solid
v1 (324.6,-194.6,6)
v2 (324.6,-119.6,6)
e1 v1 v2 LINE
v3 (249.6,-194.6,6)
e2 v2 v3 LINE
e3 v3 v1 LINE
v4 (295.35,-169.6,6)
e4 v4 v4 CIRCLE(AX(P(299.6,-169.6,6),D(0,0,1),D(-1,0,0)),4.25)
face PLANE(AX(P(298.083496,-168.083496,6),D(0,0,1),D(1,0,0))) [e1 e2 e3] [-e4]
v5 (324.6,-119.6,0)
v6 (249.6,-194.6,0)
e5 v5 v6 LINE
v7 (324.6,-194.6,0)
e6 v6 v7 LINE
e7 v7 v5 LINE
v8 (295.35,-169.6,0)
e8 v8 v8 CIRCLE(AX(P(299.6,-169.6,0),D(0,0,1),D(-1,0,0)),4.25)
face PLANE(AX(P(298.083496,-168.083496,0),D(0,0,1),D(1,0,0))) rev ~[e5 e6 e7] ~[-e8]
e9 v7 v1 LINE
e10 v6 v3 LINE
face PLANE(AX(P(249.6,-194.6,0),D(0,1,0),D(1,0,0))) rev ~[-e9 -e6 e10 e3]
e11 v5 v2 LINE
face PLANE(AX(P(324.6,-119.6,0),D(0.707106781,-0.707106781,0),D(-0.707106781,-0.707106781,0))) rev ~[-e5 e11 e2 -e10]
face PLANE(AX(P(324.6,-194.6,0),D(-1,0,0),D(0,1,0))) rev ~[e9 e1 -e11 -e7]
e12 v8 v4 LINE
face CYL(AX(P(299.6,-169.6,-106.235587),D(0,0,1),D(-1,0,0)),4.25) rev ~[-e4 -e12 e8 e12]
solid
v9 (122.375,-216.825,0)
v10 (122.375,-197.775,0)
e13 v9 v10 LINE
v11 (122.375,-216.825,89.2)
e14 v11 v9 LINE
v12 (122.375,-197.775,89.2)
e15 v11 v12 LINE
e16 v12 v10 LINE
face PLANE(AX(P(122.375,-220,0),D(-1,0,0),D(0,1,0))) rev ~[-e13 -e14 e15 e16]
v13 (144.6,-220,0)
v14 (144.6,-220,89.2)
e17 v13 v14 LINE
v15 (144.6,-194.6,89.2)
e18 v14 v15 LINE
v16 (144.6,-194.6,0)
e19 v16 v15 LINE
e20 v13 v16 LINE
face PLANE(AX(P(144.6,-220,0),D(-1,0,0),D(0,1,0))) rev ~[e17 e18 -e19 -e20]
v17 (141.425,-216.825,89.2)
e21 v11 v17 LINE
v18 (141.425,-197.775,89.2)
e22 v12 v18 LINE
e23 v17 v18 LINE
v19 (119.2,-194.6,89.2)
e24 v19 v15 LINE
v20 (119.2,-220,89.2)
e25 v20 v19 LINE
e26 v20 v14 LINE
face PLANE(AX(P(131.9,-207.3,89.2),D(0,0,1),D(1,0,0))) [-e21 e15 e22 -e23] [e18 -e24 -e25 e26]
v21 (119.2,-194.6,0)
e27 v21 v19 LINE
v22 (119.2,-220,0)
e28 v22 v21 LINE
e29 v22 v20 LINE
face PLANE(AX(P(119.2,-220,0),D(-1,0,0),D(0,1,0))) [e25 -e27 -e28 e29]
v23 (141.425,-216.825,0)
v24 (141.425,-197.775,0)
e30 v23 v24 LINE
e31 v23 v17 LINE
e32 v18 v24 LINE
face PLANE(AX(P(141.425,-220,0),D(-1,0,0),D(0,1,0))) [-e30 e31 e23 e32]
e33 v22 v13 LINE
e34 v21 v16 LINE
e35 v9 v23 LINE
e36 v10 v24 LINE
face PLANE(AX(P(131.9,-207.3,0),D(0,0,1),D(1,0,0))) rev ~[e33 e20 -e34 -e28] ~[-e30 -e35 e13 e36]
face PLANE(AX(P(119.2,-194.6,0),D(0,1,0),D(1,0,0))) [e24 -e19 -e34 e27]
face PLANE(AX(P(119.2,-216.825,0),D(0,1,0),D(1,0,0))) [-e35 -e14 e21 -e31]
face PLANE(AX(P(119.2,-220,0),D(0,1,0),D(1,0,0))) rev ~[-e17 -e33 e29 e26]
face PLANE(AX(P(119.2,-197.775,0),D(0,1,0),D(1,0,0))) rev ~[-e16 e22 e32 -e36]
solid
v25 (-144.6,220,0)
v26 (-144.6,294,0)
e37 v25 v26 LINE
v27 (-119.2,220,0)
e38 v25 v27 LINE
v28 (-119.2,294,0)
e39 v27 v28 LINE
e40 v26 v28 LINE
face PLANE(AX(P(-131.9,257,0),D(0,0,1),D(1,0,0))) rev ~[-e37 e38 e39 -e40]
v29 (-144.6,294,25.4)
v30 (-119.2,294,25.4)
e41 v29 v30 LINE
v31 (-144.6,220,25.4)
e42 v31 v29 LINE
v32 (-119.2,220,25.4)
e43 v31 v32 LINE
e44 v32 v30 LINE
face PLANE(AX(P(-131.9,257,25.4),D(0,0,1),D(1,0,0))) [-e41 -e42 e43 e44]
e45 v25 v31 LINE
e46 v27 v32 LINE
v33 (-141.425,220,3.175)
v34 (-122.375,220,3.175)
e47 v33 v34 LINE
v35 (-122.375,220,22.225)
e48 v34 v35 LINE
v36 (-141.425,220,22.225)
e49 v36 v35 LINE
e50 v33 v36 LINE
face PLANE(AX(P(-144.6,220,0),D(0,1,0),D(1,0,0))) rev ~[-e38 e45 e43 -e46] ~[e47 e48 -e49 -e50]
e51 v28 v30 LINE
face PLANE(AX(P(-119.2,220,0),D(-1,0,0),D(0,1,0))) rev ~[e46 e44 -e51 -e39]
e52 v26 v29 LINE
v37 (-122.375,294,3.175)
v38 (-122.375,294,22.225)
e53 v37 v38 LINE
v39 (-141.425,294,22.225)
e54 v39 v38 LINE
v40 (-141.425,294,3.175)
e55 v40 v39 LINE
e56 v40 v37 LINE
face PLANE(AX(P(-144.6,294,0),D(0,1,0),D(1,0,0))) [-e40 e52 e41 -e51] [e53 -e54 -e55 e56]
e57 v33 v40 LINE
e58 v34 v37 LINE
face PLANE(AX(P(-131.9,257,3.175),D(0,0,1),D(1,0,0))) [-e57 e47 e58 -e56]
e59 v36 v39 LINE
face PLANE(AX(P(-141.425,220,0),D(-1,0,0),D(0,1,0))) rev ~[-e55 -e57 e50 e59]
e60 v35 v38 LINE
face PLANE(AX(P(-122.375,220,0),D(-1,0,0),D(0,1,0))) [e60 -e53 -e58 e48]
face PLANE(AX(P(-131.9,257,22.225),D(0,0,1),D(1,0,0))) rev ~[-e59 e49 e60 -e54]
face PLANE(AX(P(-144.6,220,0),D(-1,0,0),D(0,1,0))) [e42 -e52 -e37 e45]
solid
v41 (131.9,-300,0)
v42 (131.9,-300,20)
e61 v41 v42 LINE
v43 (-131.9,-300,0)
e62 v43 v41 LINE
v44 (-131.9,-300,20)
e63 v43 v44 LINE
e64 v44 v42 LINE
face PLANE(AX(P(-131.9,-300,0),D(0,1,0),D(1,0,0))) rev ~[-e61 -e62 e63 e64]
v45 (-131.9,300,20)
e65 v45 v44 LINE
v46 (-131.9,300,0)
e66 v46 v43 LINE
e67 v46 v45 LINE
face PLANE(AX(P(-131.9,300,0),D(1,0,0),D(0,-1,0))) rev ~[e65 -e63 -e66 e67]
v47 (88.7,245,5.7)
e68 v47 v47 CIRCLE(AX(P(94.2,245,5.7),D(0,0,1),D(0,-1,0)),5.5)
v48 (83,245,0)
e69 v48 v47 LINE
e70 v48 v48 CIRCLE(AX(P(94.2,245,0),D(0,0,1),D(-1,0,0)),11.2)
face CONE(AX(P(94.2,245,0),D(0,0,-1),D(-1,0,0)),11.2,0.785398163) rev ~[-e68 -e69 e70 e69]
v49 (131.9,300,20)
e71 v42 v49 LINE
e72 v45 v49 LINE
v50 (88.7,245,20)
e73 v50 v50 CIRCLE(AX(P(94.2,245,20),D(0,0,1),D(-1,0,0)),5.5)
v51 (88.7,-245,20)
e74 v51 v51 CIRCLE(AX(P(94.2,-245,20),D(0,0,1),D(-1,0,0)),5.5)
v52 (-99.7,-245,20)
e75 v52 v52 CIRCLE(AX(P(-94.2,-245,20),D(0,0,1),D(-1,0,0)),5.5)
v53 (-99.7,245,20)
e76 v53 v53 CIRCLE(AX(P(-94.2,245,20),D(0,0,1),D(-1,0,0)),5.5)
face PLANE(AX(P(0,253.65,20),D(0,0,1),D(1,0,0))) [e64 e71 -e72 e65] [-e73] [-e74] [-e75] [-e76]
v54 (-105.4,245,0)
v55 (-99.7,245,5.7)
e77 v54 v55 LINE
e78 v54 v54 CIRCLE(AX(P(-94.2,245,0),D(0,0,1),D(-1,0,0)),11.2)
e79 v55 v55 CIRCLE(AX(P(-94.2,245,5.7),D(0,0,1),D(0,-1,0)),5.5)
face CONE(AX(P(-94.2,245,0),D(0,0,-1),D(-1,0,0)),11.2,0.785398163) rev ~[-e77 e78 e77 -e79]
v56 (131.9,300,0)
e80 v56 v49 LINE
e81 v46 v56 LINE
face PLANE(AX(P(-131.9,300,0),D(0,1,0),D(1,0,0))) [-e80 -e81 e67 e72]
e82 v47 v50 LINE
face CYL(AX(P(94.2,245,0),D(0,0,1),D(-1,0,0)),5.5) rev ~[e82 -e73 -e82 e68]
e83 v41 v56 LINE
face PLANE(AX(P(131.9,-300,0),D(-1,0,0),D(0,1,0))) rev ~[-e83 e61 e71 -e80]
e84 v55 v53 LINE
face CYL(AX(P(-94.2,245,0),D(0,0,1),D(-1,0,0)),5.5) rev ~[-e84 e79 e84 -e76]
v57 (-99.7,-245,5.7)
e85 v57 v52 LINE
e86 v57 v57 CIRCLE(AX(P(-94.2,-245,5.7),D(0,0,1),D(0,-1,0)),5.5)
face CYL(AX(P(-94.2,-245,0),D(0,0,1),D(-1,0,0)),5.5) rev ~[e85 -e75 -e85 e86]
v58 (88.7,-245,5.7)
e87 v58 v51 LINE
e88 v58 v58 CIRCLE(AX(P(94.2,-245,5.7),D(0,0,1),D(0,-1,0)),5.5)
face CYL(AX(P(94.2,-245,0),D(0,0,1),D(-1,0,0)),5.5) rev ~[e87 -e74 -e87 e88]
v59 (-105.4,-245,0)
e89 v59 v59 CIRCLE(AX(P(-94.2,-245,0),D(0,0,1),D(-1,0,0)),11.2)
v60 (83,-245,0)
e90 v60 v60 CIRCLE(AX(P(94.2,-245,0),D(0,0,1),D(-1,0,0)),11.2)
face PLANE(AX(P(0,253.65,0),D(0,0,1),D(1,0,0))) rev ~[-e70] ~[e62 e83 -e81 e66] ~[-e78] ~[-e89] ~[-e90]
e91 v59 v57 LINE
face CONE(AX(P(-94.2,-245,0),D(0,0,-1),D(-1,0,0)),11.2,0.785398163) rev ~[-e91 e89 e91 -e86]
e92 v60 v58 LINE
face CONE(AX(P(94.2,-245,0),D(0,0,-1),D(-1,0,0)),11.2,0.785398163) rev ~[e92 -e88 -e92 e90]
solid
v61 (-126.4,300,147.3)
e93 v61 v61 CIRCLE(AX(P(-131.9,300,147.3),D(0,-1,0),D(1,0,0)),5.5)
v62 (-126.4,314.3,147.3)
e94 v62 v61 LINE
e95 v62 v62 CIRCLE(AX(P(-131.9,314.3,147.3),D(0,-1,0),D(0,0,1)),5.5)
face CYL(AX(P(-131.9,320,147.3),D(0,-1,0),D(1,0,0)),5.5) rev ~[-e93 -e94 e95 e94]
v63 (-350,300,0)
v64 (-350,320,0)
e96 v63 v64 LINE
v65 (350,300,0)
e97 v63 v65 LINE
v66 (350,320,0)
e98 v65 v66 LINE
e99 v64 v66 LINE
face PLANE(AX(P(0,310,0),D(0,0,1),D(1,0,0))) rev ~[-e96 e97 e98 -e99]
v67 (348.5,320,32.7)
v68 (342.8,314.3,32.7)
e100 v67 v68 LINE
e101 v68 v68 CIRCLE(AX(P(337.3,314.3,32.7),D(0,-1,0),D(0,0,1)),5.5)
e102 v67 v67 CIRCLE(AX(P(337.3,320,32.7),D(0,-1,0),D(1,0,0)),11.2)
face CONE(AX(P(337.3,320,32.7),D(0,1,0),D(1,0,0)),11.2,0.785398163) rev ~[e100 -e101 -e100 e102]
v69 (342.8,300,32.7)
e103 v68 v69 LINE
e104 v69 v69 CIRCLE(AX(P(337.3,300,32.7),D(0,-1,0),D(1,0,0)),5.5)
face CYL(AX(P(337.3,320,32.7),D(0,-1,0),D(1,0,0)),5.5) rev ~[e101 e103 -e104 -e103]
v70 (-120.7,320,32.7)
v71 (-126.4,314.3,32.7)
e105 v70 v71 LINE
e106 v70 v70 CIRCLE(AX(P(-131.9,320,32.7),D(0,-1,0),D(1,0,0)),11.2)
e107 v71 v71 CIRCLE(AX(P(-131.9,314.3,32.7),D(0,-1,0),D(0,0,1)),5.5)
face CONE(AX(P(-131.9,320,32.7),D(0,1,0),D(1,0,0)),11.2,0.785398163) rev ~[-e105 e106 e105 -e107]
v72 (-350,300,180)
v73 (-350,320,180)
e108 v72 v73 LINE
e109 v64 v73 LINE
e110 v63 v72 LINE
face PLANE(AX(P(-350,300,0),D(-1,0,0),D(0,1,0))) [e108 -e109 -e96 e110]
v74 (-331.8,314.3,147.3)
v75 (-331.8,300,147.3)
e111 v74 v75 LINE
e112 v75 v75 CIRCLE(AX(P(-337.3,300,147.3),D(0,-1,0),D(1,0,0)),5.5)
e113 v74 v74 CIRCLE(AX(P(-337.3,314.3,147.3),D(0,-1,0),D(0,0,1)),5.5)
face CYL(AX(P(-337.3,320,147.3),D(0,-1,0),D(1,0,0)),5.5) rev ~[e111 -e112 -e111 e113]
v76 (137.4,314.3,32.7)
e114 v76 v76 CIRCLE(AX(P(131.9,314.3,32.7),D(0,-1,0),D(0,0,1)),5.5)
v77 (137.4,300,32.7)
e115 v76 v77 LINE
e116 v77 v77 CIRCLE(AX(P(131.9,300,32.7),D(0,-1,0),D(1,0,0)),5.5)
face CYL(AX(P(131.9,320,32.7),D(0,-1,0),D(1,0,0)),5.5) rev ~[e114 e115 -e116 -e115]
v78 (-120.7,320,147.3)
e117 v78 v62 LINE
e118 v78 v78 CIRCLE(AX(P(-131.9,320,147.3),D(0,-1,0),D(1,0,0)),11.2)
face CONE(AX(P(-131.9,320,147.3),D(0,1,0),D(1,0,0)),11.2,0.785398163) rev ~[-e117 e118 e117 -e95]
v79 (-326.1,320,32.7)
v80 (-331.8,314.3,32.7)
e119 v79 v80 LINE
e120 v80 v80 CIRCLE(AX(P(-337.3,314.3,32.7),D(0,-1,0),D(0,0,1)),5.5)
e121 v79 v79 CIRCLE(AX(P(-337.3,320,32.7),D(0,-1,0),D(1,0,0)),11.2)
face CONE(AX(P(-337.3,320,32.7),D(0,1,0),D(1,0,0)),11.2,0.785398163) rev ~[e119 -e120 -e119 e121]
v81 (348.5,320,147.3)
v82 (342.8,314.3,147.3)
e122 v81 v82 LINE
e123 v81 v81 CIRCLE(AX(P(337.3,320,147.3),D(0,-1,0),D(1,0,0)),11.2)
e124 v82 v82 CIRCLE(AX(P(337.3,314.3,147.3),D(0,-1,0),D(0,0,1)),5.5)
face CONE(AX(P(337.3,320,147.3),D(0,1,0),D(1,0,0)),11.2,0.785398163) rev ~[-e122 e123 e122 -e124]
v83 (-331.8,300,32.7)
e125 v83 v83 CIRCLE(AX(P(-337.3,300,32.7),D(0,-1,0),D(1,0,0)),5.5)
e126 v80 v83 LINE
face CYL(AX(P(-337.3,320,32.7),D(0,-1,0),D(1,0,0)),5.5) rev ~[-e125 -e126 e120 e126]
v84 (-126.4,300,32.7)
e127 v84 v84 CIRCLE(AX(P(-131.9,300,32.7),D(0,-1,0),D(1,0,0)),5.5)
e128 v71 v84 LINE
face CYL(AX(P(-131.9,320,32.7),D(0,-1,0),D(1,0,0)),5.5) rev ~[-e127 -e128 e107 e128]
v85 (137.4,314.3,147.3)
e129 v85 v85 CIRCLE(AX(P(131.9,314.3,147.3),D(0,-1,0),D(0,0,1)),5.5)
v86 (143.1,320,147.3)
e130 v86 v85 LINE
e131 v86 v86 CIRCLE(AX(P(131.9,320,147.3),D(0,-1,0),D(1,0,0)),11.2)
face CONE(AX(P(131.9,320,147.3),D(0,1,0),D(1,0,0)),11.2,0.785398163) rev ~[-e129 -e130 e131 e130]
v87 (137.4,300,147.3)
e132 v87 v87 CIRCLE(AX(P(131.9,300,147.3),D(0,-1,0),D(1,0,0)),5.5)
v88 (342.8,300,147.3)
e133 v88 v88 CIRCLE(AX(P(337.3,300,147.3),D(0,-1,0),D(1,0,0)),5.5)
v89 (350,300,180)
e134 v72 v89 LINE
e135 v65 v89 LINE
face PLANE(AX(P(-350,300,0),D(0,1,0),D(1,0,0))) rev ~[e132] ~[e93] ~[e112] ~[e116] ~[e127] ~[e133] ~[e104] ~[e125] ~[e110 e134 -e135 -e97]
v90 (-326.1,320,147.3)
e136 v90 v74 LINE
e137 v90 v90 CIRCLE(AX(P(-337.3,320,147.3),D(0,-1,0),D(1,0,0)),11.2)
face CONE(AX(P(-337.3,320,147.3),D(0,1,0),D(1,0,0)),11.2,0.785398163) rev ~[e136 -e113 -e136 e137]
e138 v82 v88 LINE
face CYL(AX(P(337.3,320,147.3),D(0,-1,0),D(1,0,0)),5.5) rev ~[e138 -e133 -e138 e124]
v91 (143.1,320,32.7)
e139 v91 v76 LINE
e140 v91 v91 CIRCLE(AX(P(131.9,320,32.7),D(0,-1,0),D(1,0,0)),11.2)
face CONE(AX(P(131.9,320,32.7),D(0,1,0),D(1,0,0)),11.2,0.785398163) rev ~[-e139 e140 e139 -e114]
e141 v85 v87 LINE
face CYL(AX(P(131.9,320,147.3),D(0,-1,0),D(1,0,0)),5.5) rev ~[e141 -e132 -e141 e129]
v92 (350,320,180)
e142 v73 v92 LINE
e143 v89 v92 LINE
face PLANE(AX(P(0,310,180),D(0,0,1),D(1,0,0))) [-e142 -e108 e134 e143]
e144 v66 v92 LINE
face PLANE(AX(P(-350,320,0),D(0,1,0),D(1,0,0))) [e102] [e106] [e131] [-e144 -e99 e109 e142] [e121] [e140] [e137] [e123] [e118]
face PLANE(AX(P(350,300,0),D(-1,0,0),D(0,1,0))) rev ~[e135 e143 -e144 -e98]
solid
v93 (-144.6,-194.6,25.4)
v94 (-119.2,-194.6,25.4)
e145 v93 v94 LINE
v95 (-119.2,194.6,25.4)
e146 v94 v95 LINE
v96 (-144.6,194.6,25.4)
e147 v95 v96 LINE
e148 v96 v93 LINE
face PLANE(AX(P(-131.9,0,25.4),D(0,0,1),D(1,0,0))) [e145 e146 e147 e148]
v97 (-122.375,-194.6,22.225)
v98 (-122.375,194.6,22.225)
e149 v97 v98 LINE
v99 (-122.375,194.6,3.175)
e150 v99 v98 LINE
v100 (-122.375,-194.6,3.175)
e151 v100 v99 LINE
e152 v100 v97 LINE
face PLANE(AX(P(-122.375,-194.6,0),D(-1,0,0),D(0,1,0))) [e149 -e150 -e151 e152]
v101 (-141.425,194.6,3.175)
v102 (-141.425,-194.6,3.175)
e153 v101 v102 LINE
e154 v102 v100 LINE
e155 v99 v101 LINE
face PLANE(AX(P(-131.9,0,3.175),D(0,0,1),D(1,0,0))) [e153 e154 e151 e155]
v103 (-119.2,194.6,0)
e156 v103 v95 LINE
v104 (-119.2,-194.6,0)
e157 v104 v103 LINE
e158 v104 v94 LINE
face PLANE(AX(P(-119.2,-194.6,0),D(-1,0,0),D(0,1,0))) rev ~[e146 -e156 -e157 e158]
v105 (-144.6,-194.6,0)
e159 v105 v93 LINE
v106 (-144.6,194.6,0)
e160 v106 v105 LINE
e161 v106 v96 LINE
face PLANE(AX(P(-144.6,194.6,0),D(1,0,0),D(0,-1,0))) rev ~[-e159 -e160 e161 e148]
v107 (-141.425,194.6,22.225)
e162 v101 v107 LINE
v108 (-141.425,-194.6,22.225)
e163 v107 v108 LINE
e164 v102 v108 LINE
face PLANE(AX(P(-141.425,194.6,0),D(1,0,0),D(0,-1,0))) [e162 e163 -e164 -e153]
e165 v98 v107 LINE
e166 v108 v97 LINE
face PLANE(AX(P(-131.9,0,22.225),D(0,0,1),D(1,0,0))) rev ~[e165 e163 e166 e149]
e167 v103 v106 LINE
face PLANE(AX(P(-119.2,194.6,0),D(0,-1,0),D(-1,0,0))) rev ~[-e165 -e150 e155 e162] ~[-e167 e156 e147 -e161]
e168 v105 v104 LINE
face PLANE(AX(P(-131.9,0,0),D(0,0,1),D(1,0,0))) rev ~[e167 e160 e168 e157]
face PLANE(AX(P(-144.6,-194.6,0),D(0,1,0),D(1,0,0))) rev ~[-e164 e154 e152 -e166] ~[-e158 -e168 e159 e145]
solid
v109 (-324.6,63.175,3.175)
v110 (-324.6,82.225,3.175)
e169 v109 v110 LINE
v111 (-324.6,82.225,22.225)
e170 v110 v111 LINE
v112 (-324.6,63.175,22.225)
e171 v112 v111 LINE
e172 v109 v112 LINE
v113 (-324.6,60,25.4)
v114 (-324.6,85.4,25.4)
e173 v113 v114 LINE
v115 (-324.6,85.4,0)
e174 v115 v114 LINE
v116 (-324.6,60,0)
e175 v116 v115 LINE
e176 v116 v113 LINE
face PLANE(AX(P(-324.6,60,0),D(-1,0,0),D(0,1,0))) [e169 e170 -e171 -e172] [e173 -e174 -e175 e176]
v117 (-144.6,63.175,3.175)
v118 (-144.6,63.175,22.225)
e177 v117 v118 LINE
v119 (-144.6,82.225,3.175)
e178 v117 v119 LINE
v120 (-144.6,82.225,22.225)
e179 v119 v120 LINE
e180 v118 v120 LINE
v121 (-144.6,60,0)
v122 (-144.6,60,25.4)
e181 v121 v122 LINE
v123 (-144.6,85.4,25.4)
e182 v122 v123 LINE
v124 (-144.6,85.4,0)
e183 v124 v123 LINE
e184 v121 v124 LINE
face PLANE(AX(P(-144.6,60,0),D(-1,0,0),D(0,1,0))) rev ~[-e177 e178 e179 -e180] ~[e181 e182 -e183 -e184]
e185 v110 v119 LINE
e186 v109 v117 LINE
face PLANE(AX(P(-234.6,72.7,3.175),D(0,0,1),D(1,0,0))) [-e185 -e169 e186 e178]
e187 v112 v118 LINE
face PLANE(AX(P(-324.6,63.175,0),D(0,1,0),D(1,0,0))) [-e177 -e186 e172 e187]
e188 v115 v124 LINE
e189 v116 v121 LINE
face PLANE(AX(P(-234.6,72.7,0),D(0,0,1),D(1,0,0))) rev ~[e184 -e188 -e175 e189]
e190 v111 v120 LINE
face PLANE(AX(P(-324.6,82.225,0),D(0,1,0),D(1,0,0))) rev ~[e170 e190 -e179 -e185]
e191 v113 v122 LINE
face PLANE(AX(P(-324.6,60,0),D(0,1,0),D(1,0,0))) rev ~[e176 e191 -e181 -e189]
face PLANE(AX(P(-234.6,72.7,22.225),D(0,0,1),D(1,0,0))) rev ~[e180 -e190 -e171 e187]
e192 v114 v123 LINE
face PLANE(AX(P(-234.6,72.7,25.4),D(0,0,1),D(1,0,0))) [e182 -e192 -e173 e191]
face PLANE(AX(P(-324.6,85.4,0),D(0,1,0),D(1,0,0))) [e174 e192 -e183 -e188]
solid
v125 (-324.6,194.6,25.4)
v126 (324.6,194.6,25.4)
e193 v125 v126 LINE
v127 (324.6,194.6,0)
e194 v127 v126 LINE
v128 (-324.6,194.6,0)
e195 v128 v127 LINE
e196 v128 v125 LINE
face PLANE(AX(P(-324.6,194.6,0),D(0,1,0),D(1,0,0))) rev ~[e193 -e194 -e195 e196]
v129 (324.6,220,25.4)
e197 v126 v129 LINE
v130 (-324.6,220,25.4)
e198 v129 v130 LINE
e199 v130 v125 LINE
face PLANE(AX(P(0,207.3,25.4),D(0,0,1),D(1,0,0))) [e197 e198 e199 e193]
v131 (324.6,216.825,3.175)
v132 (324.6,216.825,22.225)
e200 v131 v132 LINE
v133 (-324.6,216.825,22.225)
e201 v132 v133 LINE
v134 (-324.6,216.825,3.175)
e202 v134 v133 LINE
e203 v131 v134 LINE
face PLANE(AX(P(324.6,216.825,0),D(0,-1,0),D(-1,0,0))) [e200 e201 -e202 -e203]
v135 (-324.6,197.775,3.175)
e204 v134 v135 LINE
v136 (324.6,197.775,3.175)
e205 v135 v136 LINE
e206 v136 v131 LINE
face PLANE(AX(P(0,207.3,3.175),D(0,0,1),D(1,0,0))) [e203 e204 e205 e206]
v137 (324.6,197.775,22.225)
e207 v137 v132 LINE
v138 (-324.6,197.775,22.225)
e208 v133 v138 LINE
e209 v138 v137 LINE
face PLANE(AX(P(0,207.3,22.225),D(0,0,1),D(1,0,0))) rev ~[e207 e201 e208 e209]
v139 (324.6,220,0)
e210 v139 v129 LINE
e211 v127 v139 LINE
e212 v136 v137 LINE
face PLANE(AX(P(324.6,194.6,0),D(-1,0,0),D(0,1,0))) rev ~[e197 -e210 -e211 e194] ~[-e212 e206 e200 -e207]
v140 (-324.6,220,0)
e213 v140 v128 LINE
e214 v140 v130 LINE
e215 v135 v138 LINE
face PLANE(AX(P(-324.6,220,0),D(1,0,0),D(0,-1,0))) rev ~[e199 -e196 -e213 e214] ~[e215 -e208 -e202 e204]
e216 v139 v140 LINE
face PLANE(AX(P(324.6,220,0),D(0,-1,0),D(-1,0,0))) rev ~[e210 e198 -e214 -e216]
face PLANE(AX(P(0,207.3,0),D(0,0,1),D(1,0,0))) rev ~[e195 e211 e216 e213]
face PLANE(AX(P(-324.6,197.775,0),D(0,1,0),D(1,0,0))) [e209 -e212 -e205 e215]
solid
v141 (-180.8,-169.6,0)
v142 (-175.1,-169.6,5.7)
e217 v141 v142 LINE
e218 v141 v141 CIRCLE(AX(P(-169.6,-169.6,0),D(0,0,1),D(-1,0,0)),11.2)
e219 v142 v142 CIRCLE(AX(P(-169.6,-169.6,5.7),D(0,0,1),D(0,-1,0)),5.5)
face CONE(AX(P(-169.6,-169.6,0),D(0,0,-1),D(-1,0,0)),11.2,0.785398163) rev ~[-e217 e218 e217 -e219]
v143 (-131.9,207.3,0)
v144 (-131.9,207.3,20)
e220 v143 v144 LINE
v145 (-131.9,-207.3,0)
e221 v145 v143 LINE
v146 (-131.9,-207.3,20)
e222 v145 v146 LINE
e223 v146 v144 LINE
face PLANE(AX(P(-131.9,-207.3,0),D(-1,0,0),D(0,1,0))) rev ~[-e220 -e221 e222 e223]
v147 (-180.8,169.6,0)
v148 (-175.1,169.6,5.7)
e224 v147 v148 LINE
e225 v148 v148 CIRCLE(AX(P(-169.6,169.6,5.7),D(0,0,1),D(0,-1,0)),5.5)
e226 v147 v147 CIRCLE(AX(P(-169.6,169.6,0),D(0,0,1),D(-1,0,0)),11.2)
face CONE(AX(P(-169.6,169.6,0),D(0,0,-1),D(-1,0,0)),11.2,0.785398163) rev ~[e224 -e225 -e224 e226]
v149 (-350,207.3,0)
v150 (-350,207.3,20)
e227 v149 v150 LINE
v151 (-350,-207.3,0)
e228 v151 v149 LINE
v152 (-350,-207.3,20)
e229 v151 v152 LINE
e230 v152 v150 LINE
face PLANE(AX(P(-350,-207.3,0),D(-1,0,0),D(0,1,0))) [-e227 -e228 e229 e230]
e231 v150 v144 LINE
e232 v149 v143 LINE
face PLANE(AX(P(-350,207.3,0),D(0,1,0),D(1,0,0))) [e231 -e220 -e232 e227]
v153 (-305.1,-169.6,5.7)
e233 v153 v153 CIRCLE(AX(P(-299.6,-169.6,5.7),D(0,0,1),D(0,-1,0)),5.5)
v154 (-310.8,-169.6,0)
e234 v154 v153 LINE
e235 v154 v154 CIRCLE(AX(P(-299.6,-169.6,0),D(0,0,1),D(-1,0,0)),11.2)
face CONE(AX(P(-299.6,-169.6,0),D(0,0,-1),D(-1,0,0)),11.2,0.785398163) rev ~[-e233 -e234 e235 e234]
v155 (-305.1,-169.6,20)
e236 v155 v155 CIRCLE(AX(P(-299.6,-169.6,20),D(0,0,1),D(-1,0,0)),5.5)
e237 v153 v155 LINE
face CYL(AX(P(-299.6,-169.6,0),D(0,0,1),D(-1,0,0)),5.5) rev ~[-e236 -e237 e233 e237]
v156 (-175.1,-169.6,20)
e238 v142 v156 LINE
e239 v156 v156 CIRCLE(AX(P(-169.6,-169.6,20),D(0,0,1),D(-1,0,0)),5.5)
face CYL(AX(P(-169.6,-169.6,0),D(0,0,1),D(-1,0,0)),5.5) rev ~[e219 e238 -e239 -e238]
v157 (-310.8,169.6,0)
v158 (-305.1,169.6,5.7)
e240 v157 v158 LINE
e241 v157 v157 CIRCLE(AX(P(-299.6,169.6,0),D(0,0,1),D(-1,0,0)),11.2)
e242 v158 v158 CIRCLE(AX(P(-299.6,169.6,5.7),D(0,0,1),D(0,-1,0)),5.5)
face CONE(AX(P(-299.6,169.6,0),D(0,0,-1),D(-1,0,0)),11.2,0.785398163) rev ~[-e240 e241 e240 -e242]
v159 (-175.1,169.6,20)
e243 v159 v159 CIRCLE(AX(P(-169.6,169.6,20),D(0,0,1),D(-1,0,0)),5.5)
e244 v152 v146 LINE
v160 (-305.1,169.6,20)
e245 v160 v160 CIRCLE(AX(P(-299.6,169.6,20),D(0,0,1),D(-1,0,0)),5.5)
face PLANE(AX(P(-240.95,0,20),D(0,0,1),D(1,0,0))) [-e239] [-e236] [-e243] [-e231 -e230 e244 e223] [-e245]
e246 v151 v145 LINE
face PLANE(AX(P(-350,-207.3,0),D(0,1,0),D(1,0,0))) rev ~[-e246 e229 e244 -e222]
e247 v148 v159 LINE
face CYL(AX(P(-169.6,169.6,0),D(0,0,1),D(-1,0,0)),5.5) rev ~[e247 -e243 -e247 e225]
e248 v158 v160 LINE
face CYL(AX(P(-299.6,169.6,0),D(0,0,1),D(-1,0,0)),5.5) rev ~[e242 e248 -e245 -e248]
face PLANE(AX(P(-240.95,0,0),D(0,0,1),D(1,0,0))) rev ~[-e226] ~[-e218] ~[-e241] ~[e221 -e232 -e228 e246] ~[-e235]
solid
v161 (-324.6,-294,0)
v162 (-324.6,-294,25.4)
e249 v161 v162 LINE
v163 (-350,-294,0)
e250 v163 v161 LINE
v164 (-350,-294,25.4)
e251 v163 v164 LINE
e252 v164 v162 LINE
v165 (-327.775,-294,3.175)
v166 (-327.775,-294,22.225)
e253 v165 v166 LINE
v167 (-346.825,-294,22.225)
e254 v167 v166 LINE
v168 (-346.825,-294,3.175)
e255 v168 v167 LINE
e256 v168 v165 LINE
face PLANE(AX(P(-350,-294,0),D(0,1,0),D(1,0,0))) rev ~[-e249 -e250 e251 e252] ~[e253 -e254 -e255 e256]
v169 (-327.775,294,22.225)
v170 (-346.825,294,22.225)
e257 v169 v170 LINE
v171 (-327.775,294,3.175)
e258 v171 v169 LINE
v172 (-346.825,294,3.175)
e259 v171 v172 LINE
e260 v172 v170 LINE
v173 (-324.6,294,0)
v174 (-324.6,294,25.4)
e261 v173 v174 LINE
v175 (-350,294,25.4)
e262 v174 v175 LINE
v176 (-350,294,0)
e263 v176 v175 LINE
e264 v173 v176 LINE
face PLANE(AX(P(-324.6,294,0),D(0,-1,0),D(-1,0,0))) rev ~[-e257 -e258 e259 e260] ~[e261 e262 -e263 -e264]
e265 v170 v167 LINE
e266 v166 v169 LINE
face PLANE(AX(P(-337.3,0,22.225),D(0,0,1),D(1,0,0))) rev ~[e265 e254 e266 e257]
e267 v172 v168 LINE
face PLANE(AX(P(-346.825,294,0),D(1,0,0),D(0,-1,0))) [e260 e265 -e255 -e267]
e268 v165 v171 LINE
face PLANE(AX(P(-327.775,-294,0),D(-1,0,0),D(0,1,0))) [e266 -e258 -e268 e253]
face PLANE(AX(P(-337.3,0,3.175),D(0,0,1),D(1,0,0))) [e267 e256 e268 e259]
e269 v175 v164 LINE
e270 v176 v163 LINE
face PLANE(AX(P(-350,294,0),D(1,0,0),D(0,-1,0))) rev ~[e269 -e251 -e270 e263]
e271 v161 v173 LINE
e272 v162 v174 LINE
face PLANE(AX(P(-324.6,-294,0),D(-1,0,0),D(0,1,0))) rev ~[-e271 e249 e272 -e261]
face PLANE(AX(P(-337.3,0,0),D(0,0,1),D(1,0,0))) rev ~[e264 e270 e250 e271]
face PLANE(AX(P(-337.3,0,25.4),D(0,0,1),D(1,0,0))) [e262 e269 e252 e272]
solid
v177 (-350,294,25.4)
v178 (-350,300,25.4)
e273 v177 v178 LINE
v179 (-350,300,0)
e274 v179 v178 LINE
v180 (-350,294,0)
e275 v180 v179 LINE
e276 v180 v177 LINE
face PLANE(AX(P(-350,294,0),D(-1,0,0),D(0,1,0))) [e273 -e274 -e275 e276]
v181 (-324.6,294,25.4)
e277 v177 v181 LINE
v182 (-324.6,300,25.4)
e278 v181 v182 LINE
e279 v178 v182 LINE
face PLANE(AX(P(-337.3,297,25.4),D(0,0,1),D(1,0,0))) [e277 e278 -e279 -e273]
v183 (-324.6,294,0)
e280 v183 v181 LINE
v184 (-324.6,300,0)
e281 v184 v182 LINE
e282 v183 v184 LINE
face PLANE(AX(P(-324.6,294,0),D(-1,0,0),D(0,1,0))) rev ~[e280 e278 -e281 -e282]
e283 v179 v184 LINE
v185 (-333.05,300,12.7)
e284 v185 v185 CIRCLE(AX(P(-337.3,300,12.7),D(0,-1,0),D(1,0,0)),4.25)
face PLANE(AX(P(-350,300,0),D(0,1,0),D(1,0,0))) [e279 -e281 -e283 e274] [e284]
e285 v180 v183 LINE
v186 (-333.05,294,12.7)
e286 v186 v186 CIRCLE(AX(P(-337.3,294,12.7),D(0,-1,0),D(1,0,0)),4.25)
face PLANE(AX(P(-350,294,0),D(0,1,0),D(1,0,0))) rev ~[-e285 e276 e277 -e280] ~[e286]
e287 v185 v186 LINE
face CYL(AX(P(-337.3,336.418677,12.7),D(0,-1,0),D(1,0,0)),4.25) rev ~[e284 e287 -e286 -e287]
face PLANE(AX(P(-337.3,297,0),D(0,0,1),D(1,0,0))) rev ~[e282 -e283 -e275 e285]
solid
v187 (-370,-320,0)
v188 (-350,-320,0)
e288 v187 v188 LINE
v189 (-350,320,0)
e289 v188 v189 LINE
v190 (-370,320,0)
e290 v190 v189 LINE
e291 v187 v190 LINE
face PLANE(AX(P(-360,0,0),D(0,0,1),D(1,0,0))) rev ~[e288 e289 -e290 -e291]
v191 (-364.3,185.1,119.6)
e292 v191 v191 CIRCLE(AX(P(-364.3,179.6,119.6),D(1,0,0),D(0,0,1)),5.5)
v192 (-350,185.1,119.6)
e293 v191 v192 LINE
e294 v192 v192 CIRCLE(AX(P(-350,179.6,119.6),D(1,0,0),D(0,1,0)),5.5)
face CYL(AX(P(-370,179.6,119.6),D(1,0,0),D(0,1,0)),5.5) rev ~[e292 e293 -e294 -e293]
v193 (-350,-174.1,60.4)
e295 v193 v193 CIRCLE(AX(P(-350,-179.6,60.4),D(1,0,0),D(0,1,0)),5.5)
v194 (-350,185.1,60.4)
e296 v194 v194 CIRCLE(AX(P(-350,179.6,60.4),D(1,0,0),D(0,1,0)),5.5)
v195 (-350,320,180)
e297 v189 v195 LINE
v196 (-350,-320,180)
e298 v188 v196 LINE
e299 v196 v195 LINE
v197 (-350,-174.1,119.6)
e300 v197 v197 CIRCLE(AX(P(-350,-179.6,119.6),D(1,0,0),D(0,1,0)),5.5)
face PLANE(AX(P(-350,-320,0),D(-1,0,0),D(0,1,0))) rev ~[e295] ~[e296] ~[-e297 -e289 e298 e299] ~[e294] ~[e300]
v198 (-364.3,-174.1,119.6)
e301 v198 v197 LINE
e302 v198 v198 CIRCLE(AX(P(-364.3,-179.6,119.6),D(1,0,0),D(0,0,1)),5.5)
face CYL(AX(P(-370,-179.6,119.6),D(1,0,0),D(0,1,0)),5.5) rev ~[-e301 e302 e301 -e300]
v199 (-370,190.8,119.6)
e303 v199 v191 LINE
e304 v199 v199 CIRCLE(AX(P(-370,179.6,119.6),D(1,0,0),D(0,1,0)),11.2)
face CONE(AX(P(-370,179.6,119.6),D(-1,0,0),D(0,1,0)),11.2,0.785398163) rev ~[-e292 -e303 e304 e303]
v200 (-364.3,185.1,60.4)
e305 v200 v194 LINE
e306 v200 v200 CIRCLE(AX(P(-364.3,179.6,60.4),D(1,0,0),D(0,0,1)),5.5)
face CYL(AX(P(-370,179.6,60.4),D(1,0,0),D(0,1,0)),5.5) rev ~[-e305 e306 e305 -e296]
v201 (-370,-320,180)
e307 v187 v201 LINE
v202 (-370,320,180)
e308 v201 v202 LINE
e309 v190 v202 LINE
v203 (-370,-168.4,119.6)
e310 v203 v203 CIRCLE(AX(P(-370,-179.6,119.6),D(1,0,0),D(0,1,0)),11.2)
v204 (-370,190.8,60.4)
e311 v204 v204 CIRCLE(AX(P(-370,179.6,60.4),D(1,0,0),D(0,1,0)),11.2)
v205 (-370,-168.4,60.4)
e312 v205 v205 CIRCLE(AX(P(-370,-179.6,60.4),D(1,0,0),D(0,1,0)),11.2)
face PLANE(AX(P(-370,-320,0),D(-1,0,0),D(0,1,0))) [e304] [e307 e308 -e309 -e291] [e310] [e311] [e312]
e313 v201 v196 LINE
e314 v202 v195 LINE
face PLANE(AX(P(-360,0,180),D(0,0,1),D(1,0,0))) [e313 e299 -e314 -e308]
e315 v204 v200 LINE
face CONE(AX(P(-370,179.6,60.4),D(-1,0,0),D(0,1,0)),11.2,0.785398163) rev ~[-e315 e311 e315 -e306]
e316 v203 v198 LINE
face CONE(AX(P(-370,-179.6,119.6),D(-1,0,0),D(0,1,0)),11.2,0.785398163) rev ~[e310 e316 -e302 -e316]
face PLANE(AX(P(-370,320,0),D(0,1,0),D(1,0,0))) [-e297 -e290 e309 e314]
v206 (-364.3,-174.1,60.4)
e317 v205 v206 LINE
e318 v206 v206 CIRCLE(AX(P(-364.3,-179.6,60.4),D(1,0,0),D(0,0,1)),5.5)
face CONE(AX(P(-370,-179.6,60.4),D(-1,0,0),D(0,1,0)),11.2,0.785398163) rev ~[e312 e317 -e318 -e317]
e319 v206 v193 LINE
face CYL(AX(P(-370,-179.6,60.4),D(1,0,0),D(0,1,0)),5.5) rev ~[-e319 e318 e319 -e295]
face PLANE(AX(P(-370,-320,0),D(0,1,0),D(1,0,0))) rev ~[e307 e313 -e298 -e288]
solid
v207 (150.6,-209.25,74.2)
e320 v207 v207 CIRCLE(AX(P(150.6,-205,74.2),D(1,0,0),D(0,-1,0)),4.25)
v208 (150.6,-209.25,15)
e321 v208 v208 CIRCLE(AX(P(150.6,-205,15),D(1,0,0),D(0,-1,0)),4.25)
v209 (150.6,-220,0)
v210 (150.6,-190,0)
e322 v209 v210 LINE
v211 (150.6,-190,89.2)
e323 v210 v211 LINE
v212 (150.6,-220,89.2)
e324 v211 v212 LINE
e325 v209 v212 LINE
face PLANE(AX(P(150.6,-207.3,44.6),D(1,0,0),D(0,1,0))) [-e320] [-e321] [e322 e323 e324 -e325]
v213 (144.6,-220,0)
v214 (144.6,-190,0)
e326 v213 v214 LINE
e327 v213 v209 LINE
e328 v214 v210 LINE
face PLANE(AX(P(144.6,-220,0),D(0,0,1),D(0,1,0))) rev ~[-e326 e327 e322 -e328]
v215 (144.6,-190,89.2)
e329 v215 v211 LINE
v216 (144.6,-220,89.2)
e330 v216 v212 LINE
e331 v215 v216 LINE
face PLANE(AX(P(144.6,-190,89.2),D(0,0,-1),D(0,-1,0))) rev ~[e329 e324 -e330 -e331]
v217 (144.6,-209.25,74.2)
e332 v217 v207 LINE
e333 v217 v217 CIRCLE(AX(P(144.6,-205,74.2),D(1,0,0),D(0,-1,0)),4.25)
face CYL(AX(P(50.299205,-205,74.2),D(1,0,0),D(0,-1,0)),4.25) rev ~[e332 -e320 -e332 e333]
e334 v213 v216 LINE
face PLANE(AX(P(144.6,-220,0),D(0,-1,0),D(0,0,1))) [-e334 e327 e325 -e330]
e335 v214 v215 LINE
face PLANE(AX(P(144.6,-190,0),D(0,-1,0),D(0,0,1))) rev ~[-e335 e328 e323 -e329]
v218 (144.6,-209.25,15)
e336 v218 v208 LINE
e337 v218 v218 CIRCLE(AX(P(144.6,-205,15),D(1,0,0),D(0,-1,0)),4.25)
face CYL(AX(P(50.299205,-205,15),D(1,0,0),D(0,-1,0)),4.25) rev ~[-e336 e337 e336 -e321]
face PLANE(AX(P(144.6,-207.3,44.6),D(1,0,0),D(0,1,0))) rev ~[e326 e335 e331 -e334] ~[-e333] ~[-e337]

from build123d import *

# Parameters (mm, degrees)
F2_DEPTH        = 25.4
F3_DEPTH        = 25.4
F1_W            = 25.4
F1_H            = 74
F4_DEPTH        = 25.4
F5_DEPTH        = 25.4
F6_T            = -3.175
F7_T            = -3.175
F8_T            = -3.175
F9_T            = -3.175
F1_H_2          = 6
F10_DEPTH       = 25.4
F12_D           = 8.5
F14_DEPTH       = 6
F15_D           = 8.5
F16_W           = 700
F16_H           = 20
F17_DEPTH       = 180
F19_D           = 11
F19_CSINK_D     = 22.4
F19_CSINK_ANGLE = 90
F20_W           = 20
F20_H           = 640
F21_DEPTH       = 180
F22_W           = 218.1
F22_H           = 414.6
F23_DEPTH       = 20
F22_W_2         = 263.8
F22_H_2         = 92.7
F24_DEPTH       = 20
F25_D           = 11
F25_CSINK_D     = 22.4
F25_CSINK_ANGLE = 90
F26_D           = 11
F26_CSINK_D     = 22.4
F26_CSINK_ANGLE = 90
F27_W           = 25.4
F27_H           = 25.4
F28_DEPTH       = 89.2
F29_T           = -3.175
F30_W           = 25.4
F30_H           = 89.2
F30_W_2         = 4.6
F31_DEPTH       = 6
F32_D           = 8.5
F34_D           = 11
F34_CSINK_D     = 22.4
F34_CSINK_ANGLE = 90
F1_W_2          = 180
F1_H_3          = 25.4
F35_DEPTH       = 25.4
F36_T           = -3.175


with BuildPart() as f2:
    # F1 (on Top) → F2 (new body)
    with BuildSketch(Plane.XY):
        Polygon((-350, -294), (-324.6, -294), (-324.6, -220), (-324.6, -194.6), (-324.6, -85.4), (-324.6, -60), (-324.6, 60), (-324.6, 85.4), (-324.6, 194.6), (-324.6, 220), (-324.6, 294), (-350, 294), align=None)
    extrude(amount=F2_DEPTH)

    # F6
    f6_openings = [f2.faces().sort_by_distance(p)[0] for p in [
        (-337.3, 294, 12.7),
        (-337.3, -294, 12.7),
    ]]
    offset(amount=F6_T, openings=f6_openings)


with BuildPart() as f3:
    # F1 (on Top) → F3 (new body)
    with BuildSketch(Plane.XY):
        Polygon((324.6, 194.6), (324.6, 220), (144.6, 220), (119.2, 220), (-119.2, 220), (-144.6, 220), (-324.6, 220), (-324.6, 194.6), (-144.6, 194.6), (-119.2, 194.6), (119.2, 194.6), (144.6, 194.6), align=None)
    extrude(amount=F3_DEPTH)

    # F7
    f7_openings = [f3.faces().sort_by_distance(p)[0] for p in [
        (-324.6, 207.3, 12.7),
        (324.6, 207.3, 12.7),
    ]]
    offset(amount=F7_T, openings=f7_openings)


with BuildPart() as f4:
    # F1 (on Top) → F4 (new body)
    with BuildSketch(Plane.XY):
        with Locations((-131.9, 257)):
            Rectangle(F1_W, F1_H)
    extrude(amount=F4_DEPTH)

    # F8
    f8_openings = [f4.faces().sort_by_distance(p)[0] for p in [
        (-131.9, 294, 12.7),
        (-131.9, 220, 12.7),
    ]]
    offset(amount=F8_T, openings=f8_openings)


with BuildPart() as f5:
    # F1 (on Top) → F5 (new body)
    with BuildSketch(Plane.XY):
        Polygon((-144.6, -194.6), (-119.2, -194.6), (-119.2, 194.6), (-144.6, 194.6), (-144.6, 85.4), (-144.6, 60), (-144.6, -60), (-144.6, -85.4), align=None)
    extrude(amount=F5_DEPTH)

    # F9
    f9_openings = [f5.faces().sort_by_distance(p)[0] for p in [
        (-131.9, -194.6, 12.7),
        (-131.9, 194.6, 12.7),
    ]]
    offset(amount=F9_T, openings=f9_openings)


with BuildPart() as f10:
    # F1 (on Top) → F10 (new body)
    with BuildSketch(Plane.XY):
        with Locations((-337.3, 297)):
            Rectangle(F1_W, F1_H_2)
    extrude(amount=F10_DEPTH)

    # F12 (through all)
    with Locations(Plane(origin=(0, 300, 0), x_dir=(-1, 0, 0), z_dir=(0, 1, 0))):
        with Locations((337.3, 12.7)):
            Hole(F12_D / 2)


with BuildPart() as f14:
    # F13 (on Top) → F14 (new body)
    with BuildSketch(Plane.XY):
        Polygon((324.6, -119.6), (249.6, -194.6), (324.6, -194.6), align=None)
    extrude(amount=F14_DEPTH)

    # F15 (through all)
    with Locations(Plane(origin=(0, 0, 0), x_dir=(1, 0, 0), z_dir=(0, 0, -1))):
        with Locations((299.6, 169.6)):
            Hole(F15_D / 2)


with BuildPart() as f17:
    # F16 (on face) → F17 (new body)
    with BuildSketch(Plane.XY):
        with Locations((0, 310)):
            Rectangle(F16_W, F16_H)
    extrude(amount=F17_DEPTH)

    # F19 (through all)
    with Locations(Plane(origin=(0, 320, 0), x_dir=(-1, 0, 0), z_dir=(0, 1, 0))):
        with Locations((-131.9, 147.3), (-131.9, 32.7), (-337.3, 147.3), (-337.3, 32.7), (131.9, 147.3), (131.9, 32.7), (337.3, 147.3), (337.3, 32.7)):
            CounterSinkHole(F19_D / 2, F19_CSINK_D / 2, counter_sink_angle=F19_CSINK_ANGLE)


with BuildPart() as f21:
    # F20 (on Top) → F21 (new body)
    with BuildSketch(Plane.XY):
        with Locations((-360, 0)):
            Rectangle(F20_W, F20_H)
    extrude(amount=F21_DEPTH)

    # F34 (through all)
    with Locations(Plane(origin=(-370, 0, 0), x_dir=(0, -1, 0), z_dir=(-1, 0, 0))):
        with Locations((-179.6, 119.6), (-179.6, 60.4), (179.6, 119.6), (179.6, 60.4)):
            CounterSinkHole(F34_D / 2, F34_CSINK_D / 2, counter_sink_angle=F34_CSINK_ANGLE)


with BuildPart() as f23:
    # F22 (on Top) → F23 (new body)
    with BuildSketch(Plane.XY):
        with Locations((-240.95, 0)):
            Rectangle(F22_W, F22_H)
    extrude(amount=F23_DEPTH)

    # F25 (through all)
    with Locations(Plane(origin=(0, 0, 0), x_dir=(1, 0, 0), z_dir=(0, 0, -1))):
        with Locations((-299.6, -169.6), (-169.6, -169.6), (-169.6, 169.6), (-299.6, 169.6)):
            CounterSinkHole(F25_D / 2, F25_CSINK_D / 2, counter_sink_angle=F25_CSINK_ANGLE)


with BuildPart() as f24:
    # F22 (on Top) → F24 (new body)
    with BuildSketch(Plane.XY):
        with Locations((0, 253.65)):
            Rectangle(F22_W_2, F22_H_2)
        Rectangle(F22_W_2, F22_H)
        with Locations((0, -253.65)):
            Rectangle(F22_W_2, F22_H_2)
    extrude(amount=F24_DEPTH)

    # F26 (through all)
    with Locations(Plane(origin=(0, 0, 0), x_dir=(1, 0, 0), z_dir=(0, 0, -1))):
        with Locations((-94.2, -245), (94.2, -245), (-94.2, 245), (94.2, 245)):
            CounterSinkHole(F26_D / 2, F26_CSINK_D / 2, counter_sink_angle=F26_CSINK_ANGLE)


with BuildPart() as f28:
    # F27 (on Top) → F28 (new body)
    with BuildSketch(Plane.XY):
        with Locations((131.9, -207.3)):
            Rectangle(F27_W, F27_H)
    extrude(amount=F28_DEPTH)

    # F29
    f29_openings = [f28.faces().sort_by_distance(p)[0] for p in [
        (131.9, -207.3, 89.2),
        (131.9, -207.3, 0),
    ]]
    offset(amount=F29_T, openings=f29_openings)


with BuildPart() as f31:
    # F30 (on face) → F31 (new body)
    with BuildSketch(Plane.YZ.offset(144.6)):
        with Locations((-207.3, 44.6)):
            Rectangle(F30_W, F30_H)
        with Locations((-192.3, 44.6)):
            Rectangle(F30_W_2, F30_H)
    extrude(amount=F31_DEPTH)

    # F32 (through all)
    with Locations(Plane(origin=(144.6, 0, 0), x_dir=(0, 1, 0), z_dir=(-1, 0, 0))):
        with Locations((-205, -74.2), (-205, -15)):
            Hole(F32_D / 2)


with BuildPart() as f35:
    # F1 (on Top) → F35 (new body)
    with BuildSketch(Plane.XY):
        with Locations((-234.6, 72.7)):
            Rectangle(F1_W_2, F1_H_3)
    extrude(amount=F35_DEPTH)

    # F36
    f36_openings = [f35.faces().sort_by_distance(p)[0] for p in [
        (-324.6, 72.7, 12.7),
        (-144.6, 72.7, 12.7),
    ]]
    offset(amount=F36_T, openings=f36_openings)


solid = Compound([f2.part, f3.part, f4.part, f5.part, f10.part, f14.part, f17.part, f21.part, f23.part, f24.part, f28.part, f31.part, f35.part])
